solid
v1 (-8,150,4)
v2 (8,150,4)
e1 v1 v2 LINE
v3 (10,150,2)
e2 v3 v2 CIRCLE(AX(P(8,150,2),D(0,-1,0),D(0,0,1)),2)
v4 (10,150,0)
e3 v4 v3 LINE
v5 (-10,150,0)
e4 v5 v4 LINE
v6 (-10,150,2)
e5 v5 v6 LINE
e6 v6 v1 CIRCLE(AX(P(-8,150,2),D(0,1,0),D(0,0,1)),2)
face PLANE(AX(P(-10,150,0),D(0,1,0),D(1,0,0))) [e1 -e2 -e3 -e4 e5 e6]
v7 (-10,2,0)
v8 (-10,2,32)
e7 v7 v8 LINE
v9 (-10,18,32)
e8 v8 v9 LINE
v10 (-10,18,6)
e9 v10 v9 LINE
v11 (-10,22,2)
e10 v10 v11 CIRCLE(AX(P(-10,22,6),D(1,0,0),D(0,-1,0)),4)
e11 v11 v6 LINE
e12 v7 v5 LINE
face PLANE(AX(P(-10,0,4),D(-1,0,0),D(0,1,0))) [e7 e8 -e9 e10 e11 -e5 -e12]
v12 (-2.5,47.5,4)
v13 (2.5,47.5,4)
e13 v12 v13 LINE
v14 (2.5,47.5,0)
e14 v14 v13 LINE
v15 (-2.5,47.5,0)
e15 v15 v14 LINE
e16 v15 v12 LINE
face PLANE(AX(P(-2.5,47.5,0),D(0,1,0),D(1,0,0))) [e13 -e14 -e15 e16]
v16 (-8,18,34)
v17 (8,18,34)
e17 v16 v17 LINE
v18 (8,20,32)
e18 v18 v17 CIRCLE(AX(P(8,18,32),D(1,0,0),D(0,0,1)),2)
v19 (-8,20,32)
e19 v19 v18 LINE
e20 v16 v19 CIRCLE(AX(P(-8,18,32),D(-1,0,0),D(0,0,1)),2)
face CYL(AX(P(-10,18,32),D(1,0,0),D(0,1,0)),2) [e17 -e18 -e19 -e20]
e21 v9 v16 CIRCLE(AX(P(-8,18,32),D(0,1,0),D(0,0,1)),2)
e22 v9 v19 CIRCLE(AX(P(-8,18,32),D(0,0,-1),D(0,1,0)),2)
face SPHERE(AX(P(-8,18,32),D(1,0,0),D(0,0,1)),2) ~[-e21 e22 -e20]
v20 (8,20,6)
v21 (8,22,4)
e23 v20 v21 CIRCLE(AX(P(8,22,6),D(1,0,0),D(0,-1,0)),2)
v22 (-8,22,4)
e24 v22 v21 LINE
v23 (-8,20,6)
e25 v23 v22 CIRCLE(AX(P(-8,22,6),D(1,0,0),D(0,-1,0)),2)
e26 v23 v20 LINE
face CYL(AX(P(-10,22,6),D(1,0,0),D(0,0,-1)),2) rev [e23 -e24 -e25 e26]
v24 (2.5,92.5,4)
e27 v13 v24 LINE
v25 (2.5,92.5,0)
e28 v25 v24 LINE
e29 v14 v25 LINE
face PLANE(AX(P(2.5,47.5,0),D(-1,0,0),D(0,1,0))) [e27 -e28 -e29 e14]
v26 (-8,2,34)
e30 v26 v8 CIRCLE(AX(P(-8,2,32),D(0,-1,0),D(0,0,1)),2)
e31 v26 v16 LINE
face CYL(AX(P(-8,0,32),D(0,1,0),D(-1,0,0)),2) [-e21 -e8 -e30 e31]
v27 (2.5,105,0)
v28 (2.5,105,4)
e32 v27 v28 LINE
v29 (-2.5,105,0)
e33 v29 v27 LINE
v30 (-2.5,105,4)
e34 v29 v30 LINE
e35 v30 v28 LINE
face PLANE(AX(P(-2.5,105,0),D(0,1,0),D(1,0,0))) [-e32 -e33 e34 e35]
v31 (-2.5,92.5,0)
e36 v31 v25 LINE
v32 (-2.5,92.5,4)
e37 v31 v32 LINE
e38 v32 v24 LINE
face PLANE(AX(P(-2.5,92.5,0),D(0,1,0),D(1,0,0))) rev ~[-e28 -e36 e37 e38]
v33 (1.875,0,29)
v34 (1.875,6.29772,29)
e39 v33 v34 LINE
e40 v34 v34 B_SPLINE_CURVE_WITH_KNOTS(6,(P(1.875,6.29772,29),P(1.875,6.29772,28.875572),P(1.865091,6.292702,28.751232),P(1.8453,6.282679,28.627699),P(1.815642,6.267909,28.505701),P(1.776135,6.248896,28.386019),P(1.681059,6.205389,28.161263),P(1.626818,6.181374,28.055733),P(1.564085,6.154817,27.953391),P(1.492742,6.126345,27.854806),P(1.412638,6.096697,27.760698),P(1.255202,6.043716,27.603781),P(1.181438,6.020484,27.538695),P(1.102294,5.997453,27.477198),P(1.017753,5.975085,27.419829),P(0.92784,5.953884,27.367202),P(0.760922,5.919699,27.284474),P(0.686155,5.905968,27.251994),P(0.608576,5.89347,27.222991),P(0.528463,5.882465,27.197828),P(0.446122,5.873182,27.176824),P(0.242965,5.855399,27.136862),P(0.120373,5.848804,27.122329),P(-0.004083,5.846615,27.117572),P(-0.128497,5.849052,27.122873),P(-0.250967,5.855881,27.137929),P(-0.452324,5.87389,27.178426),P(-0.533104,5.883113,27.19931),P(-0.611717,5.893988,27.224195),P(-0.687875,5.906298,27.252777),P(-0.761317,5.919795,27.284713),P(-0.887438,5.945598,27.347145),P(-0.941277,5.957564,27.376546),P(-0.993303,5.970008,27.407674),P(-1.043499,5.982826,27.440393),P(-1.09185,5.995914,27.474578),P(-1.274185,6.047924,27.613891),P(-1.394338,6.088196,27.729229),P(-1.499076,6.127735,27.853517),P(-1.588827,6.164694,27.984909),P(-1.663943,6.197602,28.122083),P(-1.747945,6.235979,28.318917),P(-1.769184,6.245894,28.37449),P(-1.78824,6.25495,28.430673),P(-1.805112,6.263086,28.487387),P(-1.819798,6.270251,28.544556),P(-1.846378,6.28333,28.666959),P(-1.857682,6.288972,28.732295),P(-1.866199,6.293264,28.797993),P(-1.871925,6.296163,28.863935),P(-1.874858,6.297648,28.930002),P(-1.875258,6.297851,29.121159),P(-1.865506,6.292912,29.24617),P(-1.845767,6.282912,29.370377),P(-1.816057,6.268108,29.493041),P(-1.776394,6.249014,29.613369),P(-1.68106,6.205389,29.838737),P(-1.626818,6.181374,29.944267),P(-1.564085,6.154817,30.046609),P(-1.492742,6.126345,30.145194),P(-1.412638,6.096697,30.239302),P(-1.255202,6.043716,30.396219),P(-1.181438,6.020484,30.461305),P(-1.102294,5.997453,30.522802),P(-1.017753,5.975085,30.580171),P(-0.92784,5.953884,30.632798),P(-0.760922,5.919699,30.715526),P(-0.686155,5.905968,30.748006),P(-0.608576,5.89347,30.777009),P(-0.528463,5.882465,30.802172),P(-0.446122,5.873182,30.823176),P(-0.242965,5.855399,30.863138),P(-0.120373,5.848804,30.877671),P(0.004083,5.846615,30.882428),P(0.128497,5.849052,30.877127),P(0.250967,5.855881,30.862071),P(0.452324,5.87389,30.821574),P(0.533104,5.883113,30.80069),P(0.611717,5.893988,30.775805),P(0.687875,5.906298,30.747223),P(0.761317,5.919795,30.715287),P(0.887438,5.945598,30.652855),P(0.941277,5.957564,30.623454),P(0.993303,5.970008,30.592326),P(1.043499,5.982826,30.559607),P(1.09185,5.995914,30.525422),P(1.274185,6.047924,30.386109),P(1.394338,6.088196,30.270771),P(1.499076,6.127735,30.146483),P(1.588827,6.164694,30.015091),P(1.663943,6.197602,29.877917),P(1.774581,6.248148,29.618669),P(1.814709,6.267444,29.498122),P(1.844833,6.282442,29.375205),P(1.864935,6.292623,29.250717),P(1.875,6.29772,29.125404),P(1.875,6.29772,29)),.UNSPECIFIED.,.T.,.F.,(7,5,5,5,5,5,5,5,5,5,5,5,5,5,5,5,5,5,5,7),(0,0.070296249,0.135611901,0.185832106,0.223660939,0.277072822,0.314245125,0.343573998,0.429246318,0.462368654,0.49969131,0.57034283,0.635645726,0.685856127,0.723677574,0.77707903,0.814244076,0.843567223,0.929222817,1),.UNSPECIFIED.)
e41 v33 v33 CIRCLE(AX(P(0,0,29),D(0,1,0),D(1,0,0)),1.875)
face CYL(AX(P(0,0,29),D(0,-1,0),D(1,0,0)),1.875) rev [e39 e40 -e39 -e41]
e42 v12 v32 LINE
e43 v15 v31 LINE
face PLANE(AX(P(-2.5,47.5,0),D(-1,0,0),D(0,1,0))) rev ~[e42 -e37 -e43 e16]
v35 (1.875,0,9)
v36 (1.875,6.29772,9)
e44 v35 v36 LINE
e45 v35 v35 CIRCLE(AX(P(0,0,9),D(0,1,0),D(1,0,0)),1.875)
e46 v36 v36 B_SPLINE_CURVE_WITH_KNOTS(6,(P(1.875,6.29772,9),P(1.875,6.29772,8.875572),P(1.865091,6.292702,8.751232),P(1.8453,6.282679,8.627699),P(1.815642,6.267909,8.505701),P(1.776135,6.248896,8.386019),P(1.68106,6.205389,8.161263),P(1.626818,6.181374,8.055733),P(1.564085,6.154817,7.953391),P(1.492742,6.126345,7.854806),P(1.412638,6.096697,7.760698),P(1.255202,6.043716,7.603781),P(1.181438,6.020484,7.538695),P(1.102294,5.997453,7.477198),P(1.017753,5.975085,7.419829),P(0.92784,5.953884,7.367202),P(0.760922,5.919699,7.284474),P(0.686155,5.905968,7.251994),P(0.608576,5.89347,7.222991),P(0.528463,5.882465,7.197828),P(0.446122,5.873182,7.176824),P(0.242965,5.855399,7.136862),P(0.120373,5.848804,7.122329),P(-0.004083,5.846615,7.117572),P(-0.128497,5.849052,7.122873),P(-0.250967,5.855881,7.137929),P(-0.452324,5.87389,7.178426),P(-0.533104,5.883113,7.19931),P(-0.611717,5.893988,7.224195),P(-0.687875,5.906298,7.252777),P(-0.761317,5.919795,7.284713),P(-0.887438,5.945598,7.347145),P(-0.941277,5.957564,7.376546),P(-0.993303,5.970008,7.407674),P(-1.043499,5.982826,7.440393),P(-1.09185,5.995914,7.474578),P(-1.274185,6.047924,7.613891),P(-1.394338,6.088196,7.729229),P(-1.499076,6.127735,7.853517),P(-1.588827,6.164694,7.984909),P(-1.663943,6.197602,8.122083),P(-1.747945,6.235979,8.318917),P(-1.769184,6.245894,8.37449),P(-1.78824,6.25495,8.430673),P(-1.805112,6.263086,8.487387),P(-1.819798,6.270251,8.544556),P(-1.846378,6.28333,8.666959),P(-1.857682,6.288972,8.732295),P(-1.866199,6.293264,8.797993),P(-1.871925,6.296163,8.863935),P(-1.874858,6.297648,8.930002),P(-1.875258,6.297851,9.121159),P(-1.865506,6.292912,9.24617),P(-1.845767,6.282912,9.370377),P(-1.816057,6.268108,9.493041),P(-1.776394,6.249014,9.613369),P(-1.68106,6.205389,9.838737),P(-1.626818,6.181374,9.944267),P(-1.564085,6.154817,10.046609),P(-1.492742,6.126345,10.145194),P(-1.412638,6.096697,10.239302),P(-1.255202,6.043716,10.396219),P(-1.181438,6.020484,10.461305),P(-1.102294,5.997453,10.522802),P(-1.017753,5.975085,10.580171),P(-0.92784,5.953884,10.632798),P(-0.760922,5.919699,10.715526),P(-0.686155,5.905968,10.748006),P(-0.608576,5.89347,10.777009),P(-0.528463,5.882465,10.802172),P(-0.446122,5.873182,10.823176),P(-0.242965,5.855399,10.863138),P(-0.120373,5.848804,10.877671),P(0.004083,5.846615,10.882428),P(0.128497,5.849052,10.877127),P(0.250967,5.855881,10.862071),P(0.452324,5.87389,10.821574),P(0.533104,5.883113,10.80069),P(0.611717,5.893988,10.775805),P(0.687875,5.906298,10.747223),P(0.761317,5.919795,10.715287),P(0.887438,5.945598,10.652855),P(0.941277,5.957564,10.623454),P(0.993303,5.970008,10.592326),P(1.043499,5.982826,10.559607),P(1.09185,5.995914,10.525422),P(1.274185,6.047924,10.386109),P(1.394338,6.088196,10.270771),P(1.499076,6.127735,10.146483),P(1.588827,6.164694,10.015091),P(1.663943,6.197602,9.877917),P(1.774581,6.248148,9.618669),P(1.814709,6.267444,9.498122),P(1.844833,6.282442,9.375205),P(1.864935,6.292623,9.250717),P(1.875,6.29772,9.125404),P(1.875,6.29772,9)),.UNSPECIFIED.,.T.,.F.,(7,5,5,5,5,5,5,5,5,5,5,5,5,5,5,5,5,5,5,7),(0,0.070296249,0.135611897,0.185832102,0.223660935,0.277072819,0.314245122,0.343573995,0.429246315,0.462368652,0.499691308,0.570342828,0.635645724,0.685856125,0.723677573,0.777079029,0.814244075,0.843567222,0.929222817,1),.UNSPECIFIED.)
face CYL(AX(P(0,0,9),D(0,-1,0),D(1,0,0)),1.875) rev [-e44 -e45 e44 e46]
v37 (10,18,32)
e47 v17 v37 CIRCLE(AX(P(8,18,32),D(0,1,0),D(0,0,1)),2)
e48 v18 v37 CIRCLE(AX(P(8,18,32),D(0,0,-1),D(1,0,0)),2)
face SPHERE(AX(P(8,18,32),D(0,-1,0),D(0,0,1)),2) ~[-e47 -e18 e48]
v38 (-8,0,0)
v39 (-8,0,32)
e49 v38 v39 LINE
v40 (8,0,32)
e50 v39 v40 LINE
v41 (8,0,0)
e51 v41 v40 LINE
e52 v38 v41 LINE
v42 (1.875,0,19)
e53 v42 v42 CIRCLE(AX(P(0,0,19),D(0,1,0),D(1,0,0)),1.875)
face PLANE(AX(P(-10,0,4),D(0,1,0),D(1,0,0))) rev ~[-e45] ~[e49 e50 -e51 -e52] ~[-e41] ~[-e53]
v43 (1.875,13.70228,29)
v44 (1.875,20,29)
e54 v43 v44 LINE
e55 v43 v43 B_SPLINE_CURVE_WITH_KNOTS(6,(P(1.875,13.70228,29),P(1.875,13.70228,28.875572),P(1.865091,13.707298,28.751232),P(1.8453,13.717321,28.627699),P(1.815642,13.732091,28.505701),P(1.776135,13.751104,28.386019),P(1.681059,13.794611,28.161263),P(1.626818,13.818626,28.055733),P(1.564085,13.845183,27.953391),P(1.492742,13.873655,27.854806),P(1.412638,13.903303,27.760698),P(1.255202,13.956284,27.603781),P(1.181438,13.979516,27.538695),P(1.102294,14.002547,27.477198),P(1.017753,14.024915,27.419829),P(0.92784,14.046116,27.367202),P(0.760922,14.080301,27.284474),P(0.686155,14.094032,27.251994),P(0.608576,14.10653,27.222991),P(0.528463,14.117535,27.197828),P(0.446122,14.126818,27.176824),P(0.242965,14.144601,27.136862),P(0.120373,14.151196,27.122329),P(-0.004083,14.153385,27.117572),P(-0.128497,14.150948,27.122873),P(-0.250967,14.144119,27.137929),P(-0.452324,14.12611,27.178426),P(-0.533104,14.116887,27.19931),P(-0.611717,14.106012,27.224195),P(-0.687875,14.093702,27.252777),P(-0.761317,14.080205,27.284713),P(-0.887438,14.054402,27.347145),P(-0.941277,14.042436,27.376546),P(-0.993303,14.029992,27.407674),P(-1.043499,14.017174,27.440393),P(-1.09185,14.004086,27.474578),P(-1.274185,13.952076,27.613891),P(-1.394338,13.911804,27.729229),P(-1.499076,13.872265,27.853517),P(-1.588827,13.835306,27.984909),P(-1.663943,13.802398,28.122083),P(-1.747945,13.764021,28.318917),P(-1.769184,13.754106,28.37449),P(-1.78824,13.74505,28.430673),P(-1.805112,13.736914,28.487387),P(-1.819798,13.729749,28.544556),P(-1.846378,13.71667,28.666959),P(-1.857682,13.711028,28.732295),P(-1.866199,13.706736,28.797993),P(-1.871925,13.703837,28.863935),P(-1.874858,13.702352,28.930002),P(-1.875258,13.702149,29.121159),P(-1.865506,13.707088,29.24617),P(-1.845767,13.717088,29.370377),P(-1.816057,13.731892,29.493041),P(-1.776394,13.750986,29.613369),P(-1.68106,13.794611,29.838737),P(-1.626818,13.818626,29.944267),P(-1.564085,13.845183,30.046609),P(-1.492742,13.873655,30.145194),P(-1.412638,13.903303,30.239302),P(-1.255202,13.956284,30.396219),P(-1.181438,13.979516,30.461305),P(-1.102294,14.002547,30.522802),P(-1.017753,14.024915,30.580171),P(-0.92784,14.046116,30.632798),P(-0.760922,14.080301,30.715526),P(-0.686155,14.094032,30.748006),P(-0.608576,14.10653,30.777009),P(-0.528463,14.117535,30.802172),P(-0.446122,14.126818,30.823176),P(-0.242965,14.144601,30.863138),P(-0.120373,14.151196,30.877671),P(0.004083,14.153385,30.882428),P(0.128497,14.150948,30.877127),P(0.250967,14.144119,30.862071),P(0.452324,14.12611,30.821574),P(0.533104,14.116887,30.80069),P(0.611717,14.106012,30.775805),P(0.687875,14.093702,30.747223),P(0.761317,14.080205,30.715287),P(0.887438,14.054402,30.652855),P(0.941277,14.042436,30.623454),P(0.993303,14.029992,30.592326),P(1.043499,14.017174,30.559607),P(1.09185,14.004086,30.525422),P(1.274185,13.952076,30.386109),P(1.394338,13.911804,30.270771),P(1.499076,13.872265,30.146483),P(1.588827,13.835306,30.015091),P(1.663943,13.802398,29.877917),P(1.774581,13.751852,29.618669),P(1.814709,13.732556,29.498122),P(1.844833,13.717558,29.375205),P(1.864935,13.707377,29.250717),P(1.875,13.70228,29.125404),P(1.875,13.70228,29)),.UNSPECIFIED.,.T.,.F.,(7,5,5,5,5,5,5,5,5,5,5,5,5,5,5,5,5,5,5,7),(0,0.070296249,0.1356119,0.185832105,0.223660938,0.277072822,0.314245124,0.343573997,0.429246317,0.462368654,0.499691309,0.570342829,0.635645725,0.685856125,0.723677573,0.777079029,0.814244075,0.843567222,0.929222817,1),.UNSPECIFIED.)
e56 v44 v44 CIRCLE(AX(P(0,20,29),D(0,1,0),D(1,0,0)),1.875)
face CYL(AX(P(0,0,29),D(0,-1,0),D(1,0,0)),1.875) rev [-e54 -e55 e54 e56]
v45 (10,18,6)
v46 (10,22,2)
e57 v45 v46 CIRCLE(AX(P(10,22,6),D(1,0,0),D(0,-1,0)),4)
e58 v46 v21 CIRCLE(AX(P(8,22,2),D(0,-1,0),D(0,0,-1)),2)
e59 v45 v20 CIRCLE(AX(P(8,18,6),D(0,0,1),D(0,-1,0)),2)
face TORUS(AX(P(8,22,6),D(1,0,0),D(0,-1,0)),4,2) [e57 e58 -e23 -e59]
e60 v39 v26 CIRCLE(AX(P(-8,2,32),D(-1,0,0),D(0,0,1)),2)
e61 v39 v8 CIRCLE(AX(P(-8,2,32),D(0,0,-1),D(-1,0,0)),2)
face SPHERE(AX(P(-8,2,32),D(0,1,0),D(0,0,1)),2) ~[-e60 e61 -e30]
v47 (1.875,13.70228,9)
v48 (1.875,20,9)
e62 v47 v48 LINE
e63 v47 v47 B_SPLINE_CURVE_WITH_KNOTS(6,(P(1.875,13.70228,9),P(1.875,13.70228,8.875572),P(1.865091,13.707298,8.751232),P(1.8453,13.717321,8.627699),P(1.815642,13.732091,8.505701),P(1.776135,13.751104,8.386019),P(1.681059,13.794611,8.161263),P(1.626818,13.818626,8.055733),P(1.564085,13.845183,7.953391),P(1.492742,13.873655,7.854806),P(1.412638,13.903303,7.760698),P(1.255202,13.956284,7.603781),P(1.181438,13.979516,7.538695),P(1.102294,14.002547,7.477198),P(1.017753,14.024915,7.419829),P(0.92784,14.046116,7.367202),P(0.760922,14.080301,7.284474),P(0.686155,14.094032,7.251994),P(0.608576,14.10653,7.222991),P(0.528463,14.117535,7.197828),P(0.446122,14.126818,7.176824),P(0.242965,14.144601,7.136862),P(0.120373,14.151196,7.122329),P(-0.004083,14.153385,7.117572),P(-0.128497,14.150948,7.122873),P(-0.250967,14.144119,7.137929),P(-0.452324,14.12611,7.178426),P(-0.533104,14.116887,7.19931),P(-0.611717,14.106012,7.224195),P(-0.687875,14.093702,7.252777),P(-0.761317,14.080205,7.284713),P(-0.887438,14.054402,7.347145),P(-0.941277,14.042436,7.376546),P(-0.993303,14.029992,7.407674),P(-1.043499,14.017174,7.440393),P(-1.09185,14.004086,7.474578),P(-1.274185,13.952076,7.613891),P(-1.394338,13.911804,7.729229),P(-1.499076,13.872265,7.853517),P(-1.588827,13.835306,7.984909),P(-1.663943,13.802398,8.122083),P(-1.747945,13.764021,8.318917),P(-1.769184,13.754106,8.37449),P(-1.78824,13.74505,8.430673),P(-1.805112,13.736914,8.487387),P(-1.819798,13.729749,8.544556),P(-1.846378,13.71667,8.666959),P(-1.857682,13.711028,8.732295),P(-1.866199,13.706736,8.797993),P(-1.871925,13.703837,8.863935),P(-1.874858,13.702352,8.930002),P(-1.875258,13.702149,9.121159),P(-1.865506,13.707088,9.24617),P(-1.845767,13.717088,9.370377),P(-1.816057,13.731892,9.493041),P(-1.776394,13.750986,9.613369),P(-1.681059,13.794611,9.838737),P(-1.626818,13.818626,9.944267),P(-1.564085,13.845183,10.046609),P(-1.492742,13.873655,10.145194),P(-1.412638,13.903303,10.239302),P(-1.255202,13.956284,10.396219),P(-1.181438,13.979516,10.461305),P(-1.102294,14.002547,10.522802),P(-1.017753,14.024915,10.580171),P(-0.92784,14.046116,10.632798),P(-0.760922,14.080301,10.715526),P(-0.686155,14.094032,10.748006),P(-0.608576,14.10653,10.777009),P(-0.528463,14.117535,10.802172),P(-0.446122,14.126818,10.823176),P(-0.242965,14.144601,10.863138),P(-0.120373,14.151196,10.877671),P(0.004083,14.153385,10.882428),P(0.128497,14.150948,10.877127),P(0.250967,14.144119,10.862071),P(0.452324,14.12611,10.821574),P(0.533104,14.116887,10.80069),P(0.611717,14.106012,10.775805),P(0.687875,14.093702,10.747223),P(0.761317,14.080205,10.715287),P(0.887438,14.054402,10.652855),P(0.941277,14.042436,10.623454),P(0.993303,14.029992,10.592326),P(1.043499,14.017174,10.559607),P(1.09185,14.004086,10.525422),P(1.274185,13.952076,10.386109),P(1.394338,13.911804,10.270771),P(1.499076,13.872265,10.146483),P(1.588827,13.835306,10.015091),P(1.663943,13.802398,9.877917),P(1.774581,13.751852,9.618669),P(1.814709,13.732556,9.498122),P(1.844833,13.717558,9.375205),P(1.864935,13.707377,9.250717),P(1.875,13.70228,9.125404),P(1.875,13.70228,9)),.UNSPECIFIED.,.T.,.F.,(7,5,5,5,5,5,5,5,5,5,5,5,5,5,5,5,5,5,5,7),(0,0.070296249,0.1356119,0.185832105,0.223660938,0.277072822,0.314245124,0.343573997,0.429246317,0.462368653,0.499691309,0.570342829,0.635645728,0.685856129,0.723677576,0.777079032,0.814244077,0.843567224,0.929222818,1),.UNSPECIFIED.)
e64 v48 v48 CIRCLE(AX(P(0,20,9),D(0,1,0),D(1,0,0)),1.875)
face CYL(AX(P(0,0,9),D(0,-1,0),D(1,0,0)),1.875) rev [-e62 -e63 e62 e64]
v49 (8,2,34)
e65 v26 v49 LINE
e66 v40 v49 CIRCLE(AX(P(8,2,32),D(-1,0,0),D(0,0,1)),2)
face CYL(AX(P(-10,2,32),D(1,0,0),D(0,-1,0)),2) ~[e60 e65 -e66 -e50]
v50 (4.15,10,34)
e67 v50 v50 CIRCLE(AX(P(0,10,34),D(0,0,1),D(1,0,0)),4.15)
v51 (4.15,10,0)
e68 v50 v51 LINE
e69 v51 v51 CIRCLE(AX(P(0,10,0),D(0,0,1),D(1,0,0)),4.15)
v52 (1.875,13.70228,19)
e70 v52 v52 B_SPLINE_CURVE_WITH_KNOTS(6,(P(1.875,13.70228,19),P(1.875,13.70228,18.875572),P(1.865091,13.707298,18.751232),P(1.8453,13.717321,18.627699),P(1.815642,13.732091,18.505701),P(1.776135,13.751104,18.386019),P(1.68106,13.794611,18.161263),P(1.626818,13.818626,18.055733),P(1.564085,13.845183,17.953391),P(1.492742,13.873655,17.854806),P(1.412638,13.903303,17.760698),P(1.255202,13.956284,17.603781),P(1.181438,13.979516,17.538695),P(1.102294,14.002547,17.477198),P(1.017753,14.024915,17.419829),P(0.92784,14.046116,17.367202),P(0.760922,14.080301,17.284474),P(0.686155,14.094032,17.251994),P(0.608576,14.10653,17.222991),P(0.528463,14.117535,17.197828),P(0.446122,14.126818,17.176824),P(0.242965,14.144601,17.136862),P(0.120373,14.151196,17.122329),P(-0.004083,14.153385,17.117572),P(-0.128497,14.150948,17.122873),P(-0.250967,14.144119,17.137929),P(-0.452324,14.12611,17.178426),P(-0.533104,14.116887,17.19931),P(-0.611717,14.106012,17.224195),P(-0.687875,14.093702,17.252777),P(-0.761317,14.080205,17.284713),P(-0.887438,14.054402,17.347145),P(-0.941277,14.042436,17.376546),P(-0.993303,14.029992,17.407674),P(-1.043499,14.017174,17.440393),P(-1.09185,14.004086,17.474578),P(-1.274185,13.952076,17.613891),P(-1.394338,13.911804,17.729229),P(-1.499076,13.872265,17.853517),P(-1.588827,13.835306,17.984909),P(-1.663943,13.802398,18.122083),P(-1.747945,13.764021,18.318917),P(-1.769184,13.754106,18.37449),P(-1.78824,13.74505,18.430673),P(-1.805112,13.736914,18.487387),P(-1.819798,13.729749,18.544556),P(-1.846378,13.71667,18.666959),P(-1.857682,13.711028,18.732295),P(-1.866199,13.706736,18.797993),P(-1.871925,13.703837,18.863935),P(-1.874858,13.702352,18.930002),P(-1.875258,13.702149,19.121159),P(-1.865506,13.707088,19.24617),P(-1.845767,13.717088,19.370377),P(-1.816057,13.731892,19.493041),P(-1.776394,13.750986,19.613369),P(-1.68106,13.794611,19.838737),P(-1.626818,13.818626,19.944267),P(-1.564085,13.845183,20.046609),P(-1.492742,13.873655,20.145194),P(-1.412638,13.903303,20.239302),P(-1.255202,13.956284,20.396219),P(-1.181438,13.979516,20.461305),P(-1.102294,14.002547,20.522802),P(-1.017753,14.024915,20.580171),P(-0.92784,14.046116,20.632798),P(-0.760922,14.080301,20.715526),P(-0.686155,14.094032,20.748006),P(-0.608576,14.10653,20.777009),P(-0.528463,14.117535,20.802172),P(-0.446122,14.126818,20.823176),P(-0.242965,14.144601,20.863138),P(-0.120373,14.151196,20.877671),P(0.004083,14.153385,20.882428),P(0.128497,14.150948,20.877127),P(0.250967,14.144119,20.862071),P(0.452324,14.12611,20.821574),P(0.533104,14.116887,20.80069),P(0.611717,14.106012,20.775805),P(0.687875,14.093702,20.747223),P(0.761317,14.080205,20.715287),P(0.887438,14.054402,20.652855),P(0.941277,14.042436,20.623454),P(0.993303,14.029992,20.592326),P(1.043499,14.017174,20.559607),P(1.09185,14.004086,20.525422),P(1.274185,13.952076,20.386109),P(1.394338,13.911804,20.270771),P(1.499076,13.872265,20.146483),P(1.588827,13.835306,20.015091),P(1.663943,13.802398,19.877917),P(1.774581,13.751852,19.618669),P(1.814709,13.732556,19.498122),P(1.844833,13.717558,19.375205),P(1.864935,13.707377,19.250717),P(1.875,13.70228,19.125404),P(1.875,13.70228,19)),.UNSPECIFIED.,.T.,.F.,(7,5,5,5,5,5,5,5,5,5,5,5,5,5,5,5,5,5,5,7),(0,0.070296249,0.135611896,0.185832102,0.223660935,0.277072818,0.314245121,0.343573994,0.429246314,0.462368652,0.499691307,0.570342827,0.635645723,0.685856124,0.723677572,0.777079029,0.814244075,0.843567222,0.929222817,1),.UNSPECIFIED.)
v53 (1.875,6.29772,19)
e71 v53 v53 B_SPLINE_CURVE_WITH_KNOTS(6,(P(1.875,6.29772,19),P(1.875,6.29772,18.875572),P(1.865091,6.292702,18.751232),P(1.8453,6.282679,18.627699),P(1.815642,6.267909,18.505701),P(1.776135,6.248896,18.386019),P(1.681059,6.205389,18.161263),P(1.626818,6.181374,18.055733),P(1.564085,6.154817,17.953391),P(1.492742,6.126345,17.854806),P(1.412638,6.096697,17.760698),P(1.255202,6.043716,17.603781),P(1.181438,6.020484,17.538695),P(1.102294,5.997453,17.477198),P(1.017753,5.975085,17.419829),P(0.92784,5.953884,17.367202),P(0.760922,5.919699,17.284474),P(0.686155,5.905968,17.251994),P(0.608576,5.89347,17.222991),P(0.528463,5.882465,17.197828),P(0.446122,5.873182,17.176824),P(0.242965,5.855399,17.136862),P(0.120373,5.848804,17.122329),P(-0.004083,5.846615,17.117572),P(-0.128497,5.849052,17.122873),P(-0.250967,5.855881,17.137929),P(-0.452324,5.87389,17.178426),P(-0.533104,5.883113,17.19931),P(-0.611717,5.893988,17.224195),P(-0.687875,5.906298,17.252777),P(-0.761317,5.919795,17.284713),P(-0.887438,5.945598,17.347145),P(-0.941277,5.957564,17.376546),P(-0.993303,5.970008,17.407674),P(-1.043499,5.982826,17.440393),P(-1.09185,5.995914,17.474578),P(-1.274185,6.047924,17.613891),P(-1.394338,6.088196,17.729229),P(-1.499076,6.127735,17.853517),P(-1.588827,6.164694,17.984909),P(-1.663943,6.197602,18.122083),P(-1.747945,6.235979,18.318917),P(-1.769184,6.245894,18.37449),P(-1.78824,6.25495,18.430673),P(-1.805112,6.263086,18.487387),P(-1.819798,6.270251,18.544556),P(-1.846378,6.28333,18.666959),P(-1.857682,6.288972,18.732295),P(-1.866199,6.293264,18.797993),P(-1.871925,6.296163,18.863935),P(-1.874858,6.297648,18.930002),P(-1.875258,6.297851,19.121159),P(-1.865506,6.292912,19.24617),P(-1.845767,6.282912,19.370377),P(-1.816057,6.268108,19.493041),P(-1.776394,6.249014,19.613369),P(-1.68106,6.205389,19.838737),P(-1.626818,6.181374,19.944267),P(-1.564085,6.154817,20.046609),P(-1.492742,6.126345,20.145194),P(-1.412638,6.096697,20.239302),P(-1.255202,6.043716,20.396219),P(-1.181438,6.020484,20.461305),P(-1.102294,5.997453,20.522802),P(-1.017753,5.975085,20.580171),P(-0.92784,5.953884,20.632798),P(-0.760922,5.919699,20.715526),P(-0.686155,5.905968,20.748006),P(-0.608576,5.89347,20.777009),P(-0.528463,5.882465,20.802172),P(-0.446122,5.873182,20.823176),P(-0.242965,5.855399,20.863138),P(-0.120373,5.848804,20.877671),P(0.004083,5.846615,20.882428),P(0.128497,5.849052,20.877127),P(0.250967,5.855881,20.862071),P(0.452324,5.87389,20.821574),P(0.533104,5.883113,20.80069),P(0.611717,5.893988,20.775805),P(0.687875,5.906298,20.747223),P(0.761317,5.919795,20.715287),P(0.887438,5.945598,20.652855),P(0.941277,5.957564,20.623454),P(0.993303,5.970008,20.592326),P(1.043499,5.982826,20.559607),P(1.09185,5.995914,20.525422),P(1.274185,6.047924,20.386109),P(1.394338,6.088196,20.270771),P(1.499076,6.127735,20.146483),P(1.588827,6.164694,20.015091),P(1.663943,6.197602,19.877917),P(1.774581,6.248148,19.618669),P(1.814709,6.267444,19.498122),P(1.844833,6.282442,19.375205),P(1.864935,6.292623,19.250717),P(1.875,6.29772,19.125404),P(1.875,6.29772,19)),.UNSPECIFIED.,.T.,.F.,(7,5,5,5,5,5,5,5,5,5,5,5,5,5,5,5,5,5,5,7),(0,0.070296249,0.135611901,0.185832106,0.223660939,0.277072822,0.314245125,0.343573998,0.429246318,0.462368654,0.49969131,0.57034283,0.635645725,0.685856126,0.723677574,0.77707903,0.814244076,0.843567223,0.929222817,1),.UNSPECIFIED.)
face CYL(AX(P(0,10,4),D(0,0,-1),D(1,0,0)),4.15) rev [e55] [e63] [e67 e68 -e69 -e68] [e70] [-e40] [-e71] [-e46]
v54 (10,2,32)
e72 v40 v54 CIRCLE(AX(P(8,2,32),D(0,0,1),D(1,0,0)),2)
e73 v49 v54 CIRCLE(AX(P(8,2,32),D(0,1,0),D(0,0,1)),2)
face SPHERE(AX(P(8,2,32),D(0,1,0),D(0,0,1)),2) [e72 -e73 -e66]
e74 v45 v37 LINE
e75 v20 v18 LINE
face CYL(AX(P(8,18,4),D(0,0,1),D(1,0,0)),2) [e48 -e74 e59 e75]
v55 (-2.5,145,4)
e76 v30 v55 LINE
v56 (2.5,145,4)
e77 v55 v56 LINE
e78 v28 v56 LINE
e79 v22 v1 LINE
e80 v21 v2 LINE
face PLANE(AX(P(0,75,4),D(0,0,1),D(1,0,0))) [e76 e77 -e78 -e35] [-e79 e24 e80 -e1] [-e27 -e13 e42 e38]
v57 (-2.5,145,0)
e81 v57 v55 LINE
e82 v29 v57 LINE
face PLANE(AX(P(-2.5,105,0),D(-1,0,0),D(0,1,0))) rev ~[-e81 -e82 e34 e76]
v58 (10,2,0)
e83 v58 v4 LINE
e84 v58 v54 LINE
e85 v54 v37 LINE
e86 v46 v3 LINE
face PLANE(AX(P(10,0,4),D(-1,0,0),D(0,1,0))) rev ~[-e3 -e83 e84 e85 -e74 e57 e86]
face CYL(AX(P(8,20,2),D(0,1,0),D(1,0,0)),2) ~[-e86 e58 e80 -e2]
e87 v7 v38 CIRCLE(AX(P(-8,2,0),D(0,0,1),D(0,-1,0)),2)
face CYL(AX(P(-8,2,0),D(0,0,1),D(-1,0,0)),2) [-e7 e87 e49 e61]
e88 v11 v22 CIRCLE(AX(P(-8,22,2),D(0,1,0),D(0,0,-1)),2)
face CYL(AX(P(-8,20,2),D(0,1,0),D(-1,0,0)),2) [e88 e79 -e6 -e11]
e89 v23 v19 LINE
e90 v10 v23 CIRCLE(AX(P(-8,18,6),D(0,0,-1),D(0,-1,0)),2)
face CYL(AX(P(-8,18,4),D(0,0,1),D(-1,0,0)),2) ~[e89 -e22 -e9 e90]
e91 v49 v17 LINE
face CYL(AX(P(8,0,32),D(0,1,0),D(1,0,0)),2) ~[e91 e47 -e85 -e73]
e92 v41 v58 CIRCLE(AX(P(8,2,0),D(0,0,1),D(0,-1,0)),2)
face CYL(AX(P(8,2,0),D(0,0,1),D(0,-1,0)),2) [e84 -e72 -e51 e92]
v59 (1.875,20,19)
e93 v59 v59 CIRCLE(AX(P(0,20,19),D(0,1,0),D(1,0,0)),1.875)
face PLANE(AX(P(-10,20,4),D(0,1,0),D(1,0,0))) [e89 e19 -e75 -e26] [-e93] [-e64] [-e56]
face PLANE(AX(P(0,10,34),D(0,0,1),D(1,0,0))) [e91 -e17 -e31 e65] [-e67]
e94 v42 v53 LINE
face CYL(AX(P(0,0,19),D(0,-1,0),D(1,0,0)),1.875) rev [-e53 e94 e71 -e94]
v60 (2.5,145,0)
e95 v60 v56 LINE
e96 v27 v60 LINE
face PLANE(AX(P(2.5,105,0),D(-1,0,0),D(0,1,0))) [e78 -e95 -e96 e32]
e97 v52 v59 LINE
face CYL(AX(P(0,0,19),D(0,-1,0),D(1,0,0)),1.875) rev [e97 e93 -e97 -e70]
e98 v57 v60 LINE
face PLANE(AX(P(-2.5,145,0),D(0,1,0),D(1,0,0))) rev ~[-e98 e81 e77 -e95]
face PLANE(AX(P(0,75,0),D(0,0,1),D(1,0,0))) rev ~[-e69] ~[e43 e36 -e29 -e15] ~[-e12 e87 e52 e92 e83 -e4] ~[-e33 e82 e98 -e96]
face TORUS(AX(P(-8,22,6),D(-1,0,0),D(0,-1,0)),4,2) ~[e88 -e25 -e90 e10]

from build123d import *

# Parameters (mm, degrees)
CROQUIS1_W              = 20
CROQUIS1_H              = 150
CROQUIS1_R              = 4.15
CROQUIS1_W_2            = 5
CROQUIS1_H_2            = 40
CROQUIS1_H_3            = 45
SALIENTE_EXTRUIR1_DEPTH = 4
SALIENTE_EXTRUIR2_START = 4
CROQUIS2_W              = 20
CROQUIS2_H              = 20
CROQUIS2_R              = 4.15
SALIENTE_EXTRUIR2_DEPTH = 30
REDONDEO1_R             = 2
CROQUIS3_R              = 1.875
CORTAR_EXTRUIR1_DEPTH   = 20


with BuildPart() as part:
    # Croquis1 → Saliente-Extruir1 (new body)
    with BuildSketch(Plane.XY):
        with Locations((0, 75)):
            Rectangle(CROQUIS1_W, CROQUIS1_H)
        with Locations((0, 10)):
            Circle(CROQUIS1_R, mode=Mode.SUBTRACT)
        with Locations((0, 125)):
            Rectangle(CROQUIS1_W_2, CROQUIS1_H_2, mode=Mode.SUBTRACT)
        with Locations((0, 70)):
            Rectangle(CROQUIS1_W_2, CROQUIS1_H_3, mode=Mode.SUBTRACT)
    extrude(amount=SALIENTE_EXTRUIR1_DEPTH)

    # Croquis2 → Saliente-Extruir2 (add)
    with BuildSketch(Plane.XY.offset(SALIENTE_EXTRUIR2_START)):
        with Locations((0, 10)):
            Rectangle(CROQUIS2_W, CROQUIS2_H)
        with Locations((0, 10)):
            Circle(CROQUIS2_R, mode=Mode.SUBTRACT)
    extrude(amount=SALIENTE_EXTRUIR2_DEPTH)

    # Redondeo1
    redondeo1_edges = [part.edges().sort_by_distance(p)[0] for p in [
        (-10, 85, 4),
        (10, 85, 4),
        (0, 20, 4),
        (10, 10, 34),
        (0, 20, 34),
        (10, 20, 19),
        (-10, 10, 34),
        (-10, 20, 19),
        (0, 0, 34),
        (10, 0, 17),
        (-10, 0, 17),
    ]]
    fillet(redondeo1_edges, radius=REDONDEO1_R)

    # Croquis3 → Cortar-Extruir1 (cut)
    with BuildSketch(Plane(origin=(0, 0, 0), x_dir=(1, 0, 0), z_dir=(0, 1, 0))):
        with Locations((0, -9)):
            Circle(CROQUIS3_R)
        with Locations((0, -29)):
            Circle(CROQUIS3_R)
        with Locations((0, -19)):
            Circle(CROQUIS3_R)
    extrude(amount=CORTAR_EXTRUIR1_DEPTH, mode=Mode.SUBTRACT)


solid = part.part
